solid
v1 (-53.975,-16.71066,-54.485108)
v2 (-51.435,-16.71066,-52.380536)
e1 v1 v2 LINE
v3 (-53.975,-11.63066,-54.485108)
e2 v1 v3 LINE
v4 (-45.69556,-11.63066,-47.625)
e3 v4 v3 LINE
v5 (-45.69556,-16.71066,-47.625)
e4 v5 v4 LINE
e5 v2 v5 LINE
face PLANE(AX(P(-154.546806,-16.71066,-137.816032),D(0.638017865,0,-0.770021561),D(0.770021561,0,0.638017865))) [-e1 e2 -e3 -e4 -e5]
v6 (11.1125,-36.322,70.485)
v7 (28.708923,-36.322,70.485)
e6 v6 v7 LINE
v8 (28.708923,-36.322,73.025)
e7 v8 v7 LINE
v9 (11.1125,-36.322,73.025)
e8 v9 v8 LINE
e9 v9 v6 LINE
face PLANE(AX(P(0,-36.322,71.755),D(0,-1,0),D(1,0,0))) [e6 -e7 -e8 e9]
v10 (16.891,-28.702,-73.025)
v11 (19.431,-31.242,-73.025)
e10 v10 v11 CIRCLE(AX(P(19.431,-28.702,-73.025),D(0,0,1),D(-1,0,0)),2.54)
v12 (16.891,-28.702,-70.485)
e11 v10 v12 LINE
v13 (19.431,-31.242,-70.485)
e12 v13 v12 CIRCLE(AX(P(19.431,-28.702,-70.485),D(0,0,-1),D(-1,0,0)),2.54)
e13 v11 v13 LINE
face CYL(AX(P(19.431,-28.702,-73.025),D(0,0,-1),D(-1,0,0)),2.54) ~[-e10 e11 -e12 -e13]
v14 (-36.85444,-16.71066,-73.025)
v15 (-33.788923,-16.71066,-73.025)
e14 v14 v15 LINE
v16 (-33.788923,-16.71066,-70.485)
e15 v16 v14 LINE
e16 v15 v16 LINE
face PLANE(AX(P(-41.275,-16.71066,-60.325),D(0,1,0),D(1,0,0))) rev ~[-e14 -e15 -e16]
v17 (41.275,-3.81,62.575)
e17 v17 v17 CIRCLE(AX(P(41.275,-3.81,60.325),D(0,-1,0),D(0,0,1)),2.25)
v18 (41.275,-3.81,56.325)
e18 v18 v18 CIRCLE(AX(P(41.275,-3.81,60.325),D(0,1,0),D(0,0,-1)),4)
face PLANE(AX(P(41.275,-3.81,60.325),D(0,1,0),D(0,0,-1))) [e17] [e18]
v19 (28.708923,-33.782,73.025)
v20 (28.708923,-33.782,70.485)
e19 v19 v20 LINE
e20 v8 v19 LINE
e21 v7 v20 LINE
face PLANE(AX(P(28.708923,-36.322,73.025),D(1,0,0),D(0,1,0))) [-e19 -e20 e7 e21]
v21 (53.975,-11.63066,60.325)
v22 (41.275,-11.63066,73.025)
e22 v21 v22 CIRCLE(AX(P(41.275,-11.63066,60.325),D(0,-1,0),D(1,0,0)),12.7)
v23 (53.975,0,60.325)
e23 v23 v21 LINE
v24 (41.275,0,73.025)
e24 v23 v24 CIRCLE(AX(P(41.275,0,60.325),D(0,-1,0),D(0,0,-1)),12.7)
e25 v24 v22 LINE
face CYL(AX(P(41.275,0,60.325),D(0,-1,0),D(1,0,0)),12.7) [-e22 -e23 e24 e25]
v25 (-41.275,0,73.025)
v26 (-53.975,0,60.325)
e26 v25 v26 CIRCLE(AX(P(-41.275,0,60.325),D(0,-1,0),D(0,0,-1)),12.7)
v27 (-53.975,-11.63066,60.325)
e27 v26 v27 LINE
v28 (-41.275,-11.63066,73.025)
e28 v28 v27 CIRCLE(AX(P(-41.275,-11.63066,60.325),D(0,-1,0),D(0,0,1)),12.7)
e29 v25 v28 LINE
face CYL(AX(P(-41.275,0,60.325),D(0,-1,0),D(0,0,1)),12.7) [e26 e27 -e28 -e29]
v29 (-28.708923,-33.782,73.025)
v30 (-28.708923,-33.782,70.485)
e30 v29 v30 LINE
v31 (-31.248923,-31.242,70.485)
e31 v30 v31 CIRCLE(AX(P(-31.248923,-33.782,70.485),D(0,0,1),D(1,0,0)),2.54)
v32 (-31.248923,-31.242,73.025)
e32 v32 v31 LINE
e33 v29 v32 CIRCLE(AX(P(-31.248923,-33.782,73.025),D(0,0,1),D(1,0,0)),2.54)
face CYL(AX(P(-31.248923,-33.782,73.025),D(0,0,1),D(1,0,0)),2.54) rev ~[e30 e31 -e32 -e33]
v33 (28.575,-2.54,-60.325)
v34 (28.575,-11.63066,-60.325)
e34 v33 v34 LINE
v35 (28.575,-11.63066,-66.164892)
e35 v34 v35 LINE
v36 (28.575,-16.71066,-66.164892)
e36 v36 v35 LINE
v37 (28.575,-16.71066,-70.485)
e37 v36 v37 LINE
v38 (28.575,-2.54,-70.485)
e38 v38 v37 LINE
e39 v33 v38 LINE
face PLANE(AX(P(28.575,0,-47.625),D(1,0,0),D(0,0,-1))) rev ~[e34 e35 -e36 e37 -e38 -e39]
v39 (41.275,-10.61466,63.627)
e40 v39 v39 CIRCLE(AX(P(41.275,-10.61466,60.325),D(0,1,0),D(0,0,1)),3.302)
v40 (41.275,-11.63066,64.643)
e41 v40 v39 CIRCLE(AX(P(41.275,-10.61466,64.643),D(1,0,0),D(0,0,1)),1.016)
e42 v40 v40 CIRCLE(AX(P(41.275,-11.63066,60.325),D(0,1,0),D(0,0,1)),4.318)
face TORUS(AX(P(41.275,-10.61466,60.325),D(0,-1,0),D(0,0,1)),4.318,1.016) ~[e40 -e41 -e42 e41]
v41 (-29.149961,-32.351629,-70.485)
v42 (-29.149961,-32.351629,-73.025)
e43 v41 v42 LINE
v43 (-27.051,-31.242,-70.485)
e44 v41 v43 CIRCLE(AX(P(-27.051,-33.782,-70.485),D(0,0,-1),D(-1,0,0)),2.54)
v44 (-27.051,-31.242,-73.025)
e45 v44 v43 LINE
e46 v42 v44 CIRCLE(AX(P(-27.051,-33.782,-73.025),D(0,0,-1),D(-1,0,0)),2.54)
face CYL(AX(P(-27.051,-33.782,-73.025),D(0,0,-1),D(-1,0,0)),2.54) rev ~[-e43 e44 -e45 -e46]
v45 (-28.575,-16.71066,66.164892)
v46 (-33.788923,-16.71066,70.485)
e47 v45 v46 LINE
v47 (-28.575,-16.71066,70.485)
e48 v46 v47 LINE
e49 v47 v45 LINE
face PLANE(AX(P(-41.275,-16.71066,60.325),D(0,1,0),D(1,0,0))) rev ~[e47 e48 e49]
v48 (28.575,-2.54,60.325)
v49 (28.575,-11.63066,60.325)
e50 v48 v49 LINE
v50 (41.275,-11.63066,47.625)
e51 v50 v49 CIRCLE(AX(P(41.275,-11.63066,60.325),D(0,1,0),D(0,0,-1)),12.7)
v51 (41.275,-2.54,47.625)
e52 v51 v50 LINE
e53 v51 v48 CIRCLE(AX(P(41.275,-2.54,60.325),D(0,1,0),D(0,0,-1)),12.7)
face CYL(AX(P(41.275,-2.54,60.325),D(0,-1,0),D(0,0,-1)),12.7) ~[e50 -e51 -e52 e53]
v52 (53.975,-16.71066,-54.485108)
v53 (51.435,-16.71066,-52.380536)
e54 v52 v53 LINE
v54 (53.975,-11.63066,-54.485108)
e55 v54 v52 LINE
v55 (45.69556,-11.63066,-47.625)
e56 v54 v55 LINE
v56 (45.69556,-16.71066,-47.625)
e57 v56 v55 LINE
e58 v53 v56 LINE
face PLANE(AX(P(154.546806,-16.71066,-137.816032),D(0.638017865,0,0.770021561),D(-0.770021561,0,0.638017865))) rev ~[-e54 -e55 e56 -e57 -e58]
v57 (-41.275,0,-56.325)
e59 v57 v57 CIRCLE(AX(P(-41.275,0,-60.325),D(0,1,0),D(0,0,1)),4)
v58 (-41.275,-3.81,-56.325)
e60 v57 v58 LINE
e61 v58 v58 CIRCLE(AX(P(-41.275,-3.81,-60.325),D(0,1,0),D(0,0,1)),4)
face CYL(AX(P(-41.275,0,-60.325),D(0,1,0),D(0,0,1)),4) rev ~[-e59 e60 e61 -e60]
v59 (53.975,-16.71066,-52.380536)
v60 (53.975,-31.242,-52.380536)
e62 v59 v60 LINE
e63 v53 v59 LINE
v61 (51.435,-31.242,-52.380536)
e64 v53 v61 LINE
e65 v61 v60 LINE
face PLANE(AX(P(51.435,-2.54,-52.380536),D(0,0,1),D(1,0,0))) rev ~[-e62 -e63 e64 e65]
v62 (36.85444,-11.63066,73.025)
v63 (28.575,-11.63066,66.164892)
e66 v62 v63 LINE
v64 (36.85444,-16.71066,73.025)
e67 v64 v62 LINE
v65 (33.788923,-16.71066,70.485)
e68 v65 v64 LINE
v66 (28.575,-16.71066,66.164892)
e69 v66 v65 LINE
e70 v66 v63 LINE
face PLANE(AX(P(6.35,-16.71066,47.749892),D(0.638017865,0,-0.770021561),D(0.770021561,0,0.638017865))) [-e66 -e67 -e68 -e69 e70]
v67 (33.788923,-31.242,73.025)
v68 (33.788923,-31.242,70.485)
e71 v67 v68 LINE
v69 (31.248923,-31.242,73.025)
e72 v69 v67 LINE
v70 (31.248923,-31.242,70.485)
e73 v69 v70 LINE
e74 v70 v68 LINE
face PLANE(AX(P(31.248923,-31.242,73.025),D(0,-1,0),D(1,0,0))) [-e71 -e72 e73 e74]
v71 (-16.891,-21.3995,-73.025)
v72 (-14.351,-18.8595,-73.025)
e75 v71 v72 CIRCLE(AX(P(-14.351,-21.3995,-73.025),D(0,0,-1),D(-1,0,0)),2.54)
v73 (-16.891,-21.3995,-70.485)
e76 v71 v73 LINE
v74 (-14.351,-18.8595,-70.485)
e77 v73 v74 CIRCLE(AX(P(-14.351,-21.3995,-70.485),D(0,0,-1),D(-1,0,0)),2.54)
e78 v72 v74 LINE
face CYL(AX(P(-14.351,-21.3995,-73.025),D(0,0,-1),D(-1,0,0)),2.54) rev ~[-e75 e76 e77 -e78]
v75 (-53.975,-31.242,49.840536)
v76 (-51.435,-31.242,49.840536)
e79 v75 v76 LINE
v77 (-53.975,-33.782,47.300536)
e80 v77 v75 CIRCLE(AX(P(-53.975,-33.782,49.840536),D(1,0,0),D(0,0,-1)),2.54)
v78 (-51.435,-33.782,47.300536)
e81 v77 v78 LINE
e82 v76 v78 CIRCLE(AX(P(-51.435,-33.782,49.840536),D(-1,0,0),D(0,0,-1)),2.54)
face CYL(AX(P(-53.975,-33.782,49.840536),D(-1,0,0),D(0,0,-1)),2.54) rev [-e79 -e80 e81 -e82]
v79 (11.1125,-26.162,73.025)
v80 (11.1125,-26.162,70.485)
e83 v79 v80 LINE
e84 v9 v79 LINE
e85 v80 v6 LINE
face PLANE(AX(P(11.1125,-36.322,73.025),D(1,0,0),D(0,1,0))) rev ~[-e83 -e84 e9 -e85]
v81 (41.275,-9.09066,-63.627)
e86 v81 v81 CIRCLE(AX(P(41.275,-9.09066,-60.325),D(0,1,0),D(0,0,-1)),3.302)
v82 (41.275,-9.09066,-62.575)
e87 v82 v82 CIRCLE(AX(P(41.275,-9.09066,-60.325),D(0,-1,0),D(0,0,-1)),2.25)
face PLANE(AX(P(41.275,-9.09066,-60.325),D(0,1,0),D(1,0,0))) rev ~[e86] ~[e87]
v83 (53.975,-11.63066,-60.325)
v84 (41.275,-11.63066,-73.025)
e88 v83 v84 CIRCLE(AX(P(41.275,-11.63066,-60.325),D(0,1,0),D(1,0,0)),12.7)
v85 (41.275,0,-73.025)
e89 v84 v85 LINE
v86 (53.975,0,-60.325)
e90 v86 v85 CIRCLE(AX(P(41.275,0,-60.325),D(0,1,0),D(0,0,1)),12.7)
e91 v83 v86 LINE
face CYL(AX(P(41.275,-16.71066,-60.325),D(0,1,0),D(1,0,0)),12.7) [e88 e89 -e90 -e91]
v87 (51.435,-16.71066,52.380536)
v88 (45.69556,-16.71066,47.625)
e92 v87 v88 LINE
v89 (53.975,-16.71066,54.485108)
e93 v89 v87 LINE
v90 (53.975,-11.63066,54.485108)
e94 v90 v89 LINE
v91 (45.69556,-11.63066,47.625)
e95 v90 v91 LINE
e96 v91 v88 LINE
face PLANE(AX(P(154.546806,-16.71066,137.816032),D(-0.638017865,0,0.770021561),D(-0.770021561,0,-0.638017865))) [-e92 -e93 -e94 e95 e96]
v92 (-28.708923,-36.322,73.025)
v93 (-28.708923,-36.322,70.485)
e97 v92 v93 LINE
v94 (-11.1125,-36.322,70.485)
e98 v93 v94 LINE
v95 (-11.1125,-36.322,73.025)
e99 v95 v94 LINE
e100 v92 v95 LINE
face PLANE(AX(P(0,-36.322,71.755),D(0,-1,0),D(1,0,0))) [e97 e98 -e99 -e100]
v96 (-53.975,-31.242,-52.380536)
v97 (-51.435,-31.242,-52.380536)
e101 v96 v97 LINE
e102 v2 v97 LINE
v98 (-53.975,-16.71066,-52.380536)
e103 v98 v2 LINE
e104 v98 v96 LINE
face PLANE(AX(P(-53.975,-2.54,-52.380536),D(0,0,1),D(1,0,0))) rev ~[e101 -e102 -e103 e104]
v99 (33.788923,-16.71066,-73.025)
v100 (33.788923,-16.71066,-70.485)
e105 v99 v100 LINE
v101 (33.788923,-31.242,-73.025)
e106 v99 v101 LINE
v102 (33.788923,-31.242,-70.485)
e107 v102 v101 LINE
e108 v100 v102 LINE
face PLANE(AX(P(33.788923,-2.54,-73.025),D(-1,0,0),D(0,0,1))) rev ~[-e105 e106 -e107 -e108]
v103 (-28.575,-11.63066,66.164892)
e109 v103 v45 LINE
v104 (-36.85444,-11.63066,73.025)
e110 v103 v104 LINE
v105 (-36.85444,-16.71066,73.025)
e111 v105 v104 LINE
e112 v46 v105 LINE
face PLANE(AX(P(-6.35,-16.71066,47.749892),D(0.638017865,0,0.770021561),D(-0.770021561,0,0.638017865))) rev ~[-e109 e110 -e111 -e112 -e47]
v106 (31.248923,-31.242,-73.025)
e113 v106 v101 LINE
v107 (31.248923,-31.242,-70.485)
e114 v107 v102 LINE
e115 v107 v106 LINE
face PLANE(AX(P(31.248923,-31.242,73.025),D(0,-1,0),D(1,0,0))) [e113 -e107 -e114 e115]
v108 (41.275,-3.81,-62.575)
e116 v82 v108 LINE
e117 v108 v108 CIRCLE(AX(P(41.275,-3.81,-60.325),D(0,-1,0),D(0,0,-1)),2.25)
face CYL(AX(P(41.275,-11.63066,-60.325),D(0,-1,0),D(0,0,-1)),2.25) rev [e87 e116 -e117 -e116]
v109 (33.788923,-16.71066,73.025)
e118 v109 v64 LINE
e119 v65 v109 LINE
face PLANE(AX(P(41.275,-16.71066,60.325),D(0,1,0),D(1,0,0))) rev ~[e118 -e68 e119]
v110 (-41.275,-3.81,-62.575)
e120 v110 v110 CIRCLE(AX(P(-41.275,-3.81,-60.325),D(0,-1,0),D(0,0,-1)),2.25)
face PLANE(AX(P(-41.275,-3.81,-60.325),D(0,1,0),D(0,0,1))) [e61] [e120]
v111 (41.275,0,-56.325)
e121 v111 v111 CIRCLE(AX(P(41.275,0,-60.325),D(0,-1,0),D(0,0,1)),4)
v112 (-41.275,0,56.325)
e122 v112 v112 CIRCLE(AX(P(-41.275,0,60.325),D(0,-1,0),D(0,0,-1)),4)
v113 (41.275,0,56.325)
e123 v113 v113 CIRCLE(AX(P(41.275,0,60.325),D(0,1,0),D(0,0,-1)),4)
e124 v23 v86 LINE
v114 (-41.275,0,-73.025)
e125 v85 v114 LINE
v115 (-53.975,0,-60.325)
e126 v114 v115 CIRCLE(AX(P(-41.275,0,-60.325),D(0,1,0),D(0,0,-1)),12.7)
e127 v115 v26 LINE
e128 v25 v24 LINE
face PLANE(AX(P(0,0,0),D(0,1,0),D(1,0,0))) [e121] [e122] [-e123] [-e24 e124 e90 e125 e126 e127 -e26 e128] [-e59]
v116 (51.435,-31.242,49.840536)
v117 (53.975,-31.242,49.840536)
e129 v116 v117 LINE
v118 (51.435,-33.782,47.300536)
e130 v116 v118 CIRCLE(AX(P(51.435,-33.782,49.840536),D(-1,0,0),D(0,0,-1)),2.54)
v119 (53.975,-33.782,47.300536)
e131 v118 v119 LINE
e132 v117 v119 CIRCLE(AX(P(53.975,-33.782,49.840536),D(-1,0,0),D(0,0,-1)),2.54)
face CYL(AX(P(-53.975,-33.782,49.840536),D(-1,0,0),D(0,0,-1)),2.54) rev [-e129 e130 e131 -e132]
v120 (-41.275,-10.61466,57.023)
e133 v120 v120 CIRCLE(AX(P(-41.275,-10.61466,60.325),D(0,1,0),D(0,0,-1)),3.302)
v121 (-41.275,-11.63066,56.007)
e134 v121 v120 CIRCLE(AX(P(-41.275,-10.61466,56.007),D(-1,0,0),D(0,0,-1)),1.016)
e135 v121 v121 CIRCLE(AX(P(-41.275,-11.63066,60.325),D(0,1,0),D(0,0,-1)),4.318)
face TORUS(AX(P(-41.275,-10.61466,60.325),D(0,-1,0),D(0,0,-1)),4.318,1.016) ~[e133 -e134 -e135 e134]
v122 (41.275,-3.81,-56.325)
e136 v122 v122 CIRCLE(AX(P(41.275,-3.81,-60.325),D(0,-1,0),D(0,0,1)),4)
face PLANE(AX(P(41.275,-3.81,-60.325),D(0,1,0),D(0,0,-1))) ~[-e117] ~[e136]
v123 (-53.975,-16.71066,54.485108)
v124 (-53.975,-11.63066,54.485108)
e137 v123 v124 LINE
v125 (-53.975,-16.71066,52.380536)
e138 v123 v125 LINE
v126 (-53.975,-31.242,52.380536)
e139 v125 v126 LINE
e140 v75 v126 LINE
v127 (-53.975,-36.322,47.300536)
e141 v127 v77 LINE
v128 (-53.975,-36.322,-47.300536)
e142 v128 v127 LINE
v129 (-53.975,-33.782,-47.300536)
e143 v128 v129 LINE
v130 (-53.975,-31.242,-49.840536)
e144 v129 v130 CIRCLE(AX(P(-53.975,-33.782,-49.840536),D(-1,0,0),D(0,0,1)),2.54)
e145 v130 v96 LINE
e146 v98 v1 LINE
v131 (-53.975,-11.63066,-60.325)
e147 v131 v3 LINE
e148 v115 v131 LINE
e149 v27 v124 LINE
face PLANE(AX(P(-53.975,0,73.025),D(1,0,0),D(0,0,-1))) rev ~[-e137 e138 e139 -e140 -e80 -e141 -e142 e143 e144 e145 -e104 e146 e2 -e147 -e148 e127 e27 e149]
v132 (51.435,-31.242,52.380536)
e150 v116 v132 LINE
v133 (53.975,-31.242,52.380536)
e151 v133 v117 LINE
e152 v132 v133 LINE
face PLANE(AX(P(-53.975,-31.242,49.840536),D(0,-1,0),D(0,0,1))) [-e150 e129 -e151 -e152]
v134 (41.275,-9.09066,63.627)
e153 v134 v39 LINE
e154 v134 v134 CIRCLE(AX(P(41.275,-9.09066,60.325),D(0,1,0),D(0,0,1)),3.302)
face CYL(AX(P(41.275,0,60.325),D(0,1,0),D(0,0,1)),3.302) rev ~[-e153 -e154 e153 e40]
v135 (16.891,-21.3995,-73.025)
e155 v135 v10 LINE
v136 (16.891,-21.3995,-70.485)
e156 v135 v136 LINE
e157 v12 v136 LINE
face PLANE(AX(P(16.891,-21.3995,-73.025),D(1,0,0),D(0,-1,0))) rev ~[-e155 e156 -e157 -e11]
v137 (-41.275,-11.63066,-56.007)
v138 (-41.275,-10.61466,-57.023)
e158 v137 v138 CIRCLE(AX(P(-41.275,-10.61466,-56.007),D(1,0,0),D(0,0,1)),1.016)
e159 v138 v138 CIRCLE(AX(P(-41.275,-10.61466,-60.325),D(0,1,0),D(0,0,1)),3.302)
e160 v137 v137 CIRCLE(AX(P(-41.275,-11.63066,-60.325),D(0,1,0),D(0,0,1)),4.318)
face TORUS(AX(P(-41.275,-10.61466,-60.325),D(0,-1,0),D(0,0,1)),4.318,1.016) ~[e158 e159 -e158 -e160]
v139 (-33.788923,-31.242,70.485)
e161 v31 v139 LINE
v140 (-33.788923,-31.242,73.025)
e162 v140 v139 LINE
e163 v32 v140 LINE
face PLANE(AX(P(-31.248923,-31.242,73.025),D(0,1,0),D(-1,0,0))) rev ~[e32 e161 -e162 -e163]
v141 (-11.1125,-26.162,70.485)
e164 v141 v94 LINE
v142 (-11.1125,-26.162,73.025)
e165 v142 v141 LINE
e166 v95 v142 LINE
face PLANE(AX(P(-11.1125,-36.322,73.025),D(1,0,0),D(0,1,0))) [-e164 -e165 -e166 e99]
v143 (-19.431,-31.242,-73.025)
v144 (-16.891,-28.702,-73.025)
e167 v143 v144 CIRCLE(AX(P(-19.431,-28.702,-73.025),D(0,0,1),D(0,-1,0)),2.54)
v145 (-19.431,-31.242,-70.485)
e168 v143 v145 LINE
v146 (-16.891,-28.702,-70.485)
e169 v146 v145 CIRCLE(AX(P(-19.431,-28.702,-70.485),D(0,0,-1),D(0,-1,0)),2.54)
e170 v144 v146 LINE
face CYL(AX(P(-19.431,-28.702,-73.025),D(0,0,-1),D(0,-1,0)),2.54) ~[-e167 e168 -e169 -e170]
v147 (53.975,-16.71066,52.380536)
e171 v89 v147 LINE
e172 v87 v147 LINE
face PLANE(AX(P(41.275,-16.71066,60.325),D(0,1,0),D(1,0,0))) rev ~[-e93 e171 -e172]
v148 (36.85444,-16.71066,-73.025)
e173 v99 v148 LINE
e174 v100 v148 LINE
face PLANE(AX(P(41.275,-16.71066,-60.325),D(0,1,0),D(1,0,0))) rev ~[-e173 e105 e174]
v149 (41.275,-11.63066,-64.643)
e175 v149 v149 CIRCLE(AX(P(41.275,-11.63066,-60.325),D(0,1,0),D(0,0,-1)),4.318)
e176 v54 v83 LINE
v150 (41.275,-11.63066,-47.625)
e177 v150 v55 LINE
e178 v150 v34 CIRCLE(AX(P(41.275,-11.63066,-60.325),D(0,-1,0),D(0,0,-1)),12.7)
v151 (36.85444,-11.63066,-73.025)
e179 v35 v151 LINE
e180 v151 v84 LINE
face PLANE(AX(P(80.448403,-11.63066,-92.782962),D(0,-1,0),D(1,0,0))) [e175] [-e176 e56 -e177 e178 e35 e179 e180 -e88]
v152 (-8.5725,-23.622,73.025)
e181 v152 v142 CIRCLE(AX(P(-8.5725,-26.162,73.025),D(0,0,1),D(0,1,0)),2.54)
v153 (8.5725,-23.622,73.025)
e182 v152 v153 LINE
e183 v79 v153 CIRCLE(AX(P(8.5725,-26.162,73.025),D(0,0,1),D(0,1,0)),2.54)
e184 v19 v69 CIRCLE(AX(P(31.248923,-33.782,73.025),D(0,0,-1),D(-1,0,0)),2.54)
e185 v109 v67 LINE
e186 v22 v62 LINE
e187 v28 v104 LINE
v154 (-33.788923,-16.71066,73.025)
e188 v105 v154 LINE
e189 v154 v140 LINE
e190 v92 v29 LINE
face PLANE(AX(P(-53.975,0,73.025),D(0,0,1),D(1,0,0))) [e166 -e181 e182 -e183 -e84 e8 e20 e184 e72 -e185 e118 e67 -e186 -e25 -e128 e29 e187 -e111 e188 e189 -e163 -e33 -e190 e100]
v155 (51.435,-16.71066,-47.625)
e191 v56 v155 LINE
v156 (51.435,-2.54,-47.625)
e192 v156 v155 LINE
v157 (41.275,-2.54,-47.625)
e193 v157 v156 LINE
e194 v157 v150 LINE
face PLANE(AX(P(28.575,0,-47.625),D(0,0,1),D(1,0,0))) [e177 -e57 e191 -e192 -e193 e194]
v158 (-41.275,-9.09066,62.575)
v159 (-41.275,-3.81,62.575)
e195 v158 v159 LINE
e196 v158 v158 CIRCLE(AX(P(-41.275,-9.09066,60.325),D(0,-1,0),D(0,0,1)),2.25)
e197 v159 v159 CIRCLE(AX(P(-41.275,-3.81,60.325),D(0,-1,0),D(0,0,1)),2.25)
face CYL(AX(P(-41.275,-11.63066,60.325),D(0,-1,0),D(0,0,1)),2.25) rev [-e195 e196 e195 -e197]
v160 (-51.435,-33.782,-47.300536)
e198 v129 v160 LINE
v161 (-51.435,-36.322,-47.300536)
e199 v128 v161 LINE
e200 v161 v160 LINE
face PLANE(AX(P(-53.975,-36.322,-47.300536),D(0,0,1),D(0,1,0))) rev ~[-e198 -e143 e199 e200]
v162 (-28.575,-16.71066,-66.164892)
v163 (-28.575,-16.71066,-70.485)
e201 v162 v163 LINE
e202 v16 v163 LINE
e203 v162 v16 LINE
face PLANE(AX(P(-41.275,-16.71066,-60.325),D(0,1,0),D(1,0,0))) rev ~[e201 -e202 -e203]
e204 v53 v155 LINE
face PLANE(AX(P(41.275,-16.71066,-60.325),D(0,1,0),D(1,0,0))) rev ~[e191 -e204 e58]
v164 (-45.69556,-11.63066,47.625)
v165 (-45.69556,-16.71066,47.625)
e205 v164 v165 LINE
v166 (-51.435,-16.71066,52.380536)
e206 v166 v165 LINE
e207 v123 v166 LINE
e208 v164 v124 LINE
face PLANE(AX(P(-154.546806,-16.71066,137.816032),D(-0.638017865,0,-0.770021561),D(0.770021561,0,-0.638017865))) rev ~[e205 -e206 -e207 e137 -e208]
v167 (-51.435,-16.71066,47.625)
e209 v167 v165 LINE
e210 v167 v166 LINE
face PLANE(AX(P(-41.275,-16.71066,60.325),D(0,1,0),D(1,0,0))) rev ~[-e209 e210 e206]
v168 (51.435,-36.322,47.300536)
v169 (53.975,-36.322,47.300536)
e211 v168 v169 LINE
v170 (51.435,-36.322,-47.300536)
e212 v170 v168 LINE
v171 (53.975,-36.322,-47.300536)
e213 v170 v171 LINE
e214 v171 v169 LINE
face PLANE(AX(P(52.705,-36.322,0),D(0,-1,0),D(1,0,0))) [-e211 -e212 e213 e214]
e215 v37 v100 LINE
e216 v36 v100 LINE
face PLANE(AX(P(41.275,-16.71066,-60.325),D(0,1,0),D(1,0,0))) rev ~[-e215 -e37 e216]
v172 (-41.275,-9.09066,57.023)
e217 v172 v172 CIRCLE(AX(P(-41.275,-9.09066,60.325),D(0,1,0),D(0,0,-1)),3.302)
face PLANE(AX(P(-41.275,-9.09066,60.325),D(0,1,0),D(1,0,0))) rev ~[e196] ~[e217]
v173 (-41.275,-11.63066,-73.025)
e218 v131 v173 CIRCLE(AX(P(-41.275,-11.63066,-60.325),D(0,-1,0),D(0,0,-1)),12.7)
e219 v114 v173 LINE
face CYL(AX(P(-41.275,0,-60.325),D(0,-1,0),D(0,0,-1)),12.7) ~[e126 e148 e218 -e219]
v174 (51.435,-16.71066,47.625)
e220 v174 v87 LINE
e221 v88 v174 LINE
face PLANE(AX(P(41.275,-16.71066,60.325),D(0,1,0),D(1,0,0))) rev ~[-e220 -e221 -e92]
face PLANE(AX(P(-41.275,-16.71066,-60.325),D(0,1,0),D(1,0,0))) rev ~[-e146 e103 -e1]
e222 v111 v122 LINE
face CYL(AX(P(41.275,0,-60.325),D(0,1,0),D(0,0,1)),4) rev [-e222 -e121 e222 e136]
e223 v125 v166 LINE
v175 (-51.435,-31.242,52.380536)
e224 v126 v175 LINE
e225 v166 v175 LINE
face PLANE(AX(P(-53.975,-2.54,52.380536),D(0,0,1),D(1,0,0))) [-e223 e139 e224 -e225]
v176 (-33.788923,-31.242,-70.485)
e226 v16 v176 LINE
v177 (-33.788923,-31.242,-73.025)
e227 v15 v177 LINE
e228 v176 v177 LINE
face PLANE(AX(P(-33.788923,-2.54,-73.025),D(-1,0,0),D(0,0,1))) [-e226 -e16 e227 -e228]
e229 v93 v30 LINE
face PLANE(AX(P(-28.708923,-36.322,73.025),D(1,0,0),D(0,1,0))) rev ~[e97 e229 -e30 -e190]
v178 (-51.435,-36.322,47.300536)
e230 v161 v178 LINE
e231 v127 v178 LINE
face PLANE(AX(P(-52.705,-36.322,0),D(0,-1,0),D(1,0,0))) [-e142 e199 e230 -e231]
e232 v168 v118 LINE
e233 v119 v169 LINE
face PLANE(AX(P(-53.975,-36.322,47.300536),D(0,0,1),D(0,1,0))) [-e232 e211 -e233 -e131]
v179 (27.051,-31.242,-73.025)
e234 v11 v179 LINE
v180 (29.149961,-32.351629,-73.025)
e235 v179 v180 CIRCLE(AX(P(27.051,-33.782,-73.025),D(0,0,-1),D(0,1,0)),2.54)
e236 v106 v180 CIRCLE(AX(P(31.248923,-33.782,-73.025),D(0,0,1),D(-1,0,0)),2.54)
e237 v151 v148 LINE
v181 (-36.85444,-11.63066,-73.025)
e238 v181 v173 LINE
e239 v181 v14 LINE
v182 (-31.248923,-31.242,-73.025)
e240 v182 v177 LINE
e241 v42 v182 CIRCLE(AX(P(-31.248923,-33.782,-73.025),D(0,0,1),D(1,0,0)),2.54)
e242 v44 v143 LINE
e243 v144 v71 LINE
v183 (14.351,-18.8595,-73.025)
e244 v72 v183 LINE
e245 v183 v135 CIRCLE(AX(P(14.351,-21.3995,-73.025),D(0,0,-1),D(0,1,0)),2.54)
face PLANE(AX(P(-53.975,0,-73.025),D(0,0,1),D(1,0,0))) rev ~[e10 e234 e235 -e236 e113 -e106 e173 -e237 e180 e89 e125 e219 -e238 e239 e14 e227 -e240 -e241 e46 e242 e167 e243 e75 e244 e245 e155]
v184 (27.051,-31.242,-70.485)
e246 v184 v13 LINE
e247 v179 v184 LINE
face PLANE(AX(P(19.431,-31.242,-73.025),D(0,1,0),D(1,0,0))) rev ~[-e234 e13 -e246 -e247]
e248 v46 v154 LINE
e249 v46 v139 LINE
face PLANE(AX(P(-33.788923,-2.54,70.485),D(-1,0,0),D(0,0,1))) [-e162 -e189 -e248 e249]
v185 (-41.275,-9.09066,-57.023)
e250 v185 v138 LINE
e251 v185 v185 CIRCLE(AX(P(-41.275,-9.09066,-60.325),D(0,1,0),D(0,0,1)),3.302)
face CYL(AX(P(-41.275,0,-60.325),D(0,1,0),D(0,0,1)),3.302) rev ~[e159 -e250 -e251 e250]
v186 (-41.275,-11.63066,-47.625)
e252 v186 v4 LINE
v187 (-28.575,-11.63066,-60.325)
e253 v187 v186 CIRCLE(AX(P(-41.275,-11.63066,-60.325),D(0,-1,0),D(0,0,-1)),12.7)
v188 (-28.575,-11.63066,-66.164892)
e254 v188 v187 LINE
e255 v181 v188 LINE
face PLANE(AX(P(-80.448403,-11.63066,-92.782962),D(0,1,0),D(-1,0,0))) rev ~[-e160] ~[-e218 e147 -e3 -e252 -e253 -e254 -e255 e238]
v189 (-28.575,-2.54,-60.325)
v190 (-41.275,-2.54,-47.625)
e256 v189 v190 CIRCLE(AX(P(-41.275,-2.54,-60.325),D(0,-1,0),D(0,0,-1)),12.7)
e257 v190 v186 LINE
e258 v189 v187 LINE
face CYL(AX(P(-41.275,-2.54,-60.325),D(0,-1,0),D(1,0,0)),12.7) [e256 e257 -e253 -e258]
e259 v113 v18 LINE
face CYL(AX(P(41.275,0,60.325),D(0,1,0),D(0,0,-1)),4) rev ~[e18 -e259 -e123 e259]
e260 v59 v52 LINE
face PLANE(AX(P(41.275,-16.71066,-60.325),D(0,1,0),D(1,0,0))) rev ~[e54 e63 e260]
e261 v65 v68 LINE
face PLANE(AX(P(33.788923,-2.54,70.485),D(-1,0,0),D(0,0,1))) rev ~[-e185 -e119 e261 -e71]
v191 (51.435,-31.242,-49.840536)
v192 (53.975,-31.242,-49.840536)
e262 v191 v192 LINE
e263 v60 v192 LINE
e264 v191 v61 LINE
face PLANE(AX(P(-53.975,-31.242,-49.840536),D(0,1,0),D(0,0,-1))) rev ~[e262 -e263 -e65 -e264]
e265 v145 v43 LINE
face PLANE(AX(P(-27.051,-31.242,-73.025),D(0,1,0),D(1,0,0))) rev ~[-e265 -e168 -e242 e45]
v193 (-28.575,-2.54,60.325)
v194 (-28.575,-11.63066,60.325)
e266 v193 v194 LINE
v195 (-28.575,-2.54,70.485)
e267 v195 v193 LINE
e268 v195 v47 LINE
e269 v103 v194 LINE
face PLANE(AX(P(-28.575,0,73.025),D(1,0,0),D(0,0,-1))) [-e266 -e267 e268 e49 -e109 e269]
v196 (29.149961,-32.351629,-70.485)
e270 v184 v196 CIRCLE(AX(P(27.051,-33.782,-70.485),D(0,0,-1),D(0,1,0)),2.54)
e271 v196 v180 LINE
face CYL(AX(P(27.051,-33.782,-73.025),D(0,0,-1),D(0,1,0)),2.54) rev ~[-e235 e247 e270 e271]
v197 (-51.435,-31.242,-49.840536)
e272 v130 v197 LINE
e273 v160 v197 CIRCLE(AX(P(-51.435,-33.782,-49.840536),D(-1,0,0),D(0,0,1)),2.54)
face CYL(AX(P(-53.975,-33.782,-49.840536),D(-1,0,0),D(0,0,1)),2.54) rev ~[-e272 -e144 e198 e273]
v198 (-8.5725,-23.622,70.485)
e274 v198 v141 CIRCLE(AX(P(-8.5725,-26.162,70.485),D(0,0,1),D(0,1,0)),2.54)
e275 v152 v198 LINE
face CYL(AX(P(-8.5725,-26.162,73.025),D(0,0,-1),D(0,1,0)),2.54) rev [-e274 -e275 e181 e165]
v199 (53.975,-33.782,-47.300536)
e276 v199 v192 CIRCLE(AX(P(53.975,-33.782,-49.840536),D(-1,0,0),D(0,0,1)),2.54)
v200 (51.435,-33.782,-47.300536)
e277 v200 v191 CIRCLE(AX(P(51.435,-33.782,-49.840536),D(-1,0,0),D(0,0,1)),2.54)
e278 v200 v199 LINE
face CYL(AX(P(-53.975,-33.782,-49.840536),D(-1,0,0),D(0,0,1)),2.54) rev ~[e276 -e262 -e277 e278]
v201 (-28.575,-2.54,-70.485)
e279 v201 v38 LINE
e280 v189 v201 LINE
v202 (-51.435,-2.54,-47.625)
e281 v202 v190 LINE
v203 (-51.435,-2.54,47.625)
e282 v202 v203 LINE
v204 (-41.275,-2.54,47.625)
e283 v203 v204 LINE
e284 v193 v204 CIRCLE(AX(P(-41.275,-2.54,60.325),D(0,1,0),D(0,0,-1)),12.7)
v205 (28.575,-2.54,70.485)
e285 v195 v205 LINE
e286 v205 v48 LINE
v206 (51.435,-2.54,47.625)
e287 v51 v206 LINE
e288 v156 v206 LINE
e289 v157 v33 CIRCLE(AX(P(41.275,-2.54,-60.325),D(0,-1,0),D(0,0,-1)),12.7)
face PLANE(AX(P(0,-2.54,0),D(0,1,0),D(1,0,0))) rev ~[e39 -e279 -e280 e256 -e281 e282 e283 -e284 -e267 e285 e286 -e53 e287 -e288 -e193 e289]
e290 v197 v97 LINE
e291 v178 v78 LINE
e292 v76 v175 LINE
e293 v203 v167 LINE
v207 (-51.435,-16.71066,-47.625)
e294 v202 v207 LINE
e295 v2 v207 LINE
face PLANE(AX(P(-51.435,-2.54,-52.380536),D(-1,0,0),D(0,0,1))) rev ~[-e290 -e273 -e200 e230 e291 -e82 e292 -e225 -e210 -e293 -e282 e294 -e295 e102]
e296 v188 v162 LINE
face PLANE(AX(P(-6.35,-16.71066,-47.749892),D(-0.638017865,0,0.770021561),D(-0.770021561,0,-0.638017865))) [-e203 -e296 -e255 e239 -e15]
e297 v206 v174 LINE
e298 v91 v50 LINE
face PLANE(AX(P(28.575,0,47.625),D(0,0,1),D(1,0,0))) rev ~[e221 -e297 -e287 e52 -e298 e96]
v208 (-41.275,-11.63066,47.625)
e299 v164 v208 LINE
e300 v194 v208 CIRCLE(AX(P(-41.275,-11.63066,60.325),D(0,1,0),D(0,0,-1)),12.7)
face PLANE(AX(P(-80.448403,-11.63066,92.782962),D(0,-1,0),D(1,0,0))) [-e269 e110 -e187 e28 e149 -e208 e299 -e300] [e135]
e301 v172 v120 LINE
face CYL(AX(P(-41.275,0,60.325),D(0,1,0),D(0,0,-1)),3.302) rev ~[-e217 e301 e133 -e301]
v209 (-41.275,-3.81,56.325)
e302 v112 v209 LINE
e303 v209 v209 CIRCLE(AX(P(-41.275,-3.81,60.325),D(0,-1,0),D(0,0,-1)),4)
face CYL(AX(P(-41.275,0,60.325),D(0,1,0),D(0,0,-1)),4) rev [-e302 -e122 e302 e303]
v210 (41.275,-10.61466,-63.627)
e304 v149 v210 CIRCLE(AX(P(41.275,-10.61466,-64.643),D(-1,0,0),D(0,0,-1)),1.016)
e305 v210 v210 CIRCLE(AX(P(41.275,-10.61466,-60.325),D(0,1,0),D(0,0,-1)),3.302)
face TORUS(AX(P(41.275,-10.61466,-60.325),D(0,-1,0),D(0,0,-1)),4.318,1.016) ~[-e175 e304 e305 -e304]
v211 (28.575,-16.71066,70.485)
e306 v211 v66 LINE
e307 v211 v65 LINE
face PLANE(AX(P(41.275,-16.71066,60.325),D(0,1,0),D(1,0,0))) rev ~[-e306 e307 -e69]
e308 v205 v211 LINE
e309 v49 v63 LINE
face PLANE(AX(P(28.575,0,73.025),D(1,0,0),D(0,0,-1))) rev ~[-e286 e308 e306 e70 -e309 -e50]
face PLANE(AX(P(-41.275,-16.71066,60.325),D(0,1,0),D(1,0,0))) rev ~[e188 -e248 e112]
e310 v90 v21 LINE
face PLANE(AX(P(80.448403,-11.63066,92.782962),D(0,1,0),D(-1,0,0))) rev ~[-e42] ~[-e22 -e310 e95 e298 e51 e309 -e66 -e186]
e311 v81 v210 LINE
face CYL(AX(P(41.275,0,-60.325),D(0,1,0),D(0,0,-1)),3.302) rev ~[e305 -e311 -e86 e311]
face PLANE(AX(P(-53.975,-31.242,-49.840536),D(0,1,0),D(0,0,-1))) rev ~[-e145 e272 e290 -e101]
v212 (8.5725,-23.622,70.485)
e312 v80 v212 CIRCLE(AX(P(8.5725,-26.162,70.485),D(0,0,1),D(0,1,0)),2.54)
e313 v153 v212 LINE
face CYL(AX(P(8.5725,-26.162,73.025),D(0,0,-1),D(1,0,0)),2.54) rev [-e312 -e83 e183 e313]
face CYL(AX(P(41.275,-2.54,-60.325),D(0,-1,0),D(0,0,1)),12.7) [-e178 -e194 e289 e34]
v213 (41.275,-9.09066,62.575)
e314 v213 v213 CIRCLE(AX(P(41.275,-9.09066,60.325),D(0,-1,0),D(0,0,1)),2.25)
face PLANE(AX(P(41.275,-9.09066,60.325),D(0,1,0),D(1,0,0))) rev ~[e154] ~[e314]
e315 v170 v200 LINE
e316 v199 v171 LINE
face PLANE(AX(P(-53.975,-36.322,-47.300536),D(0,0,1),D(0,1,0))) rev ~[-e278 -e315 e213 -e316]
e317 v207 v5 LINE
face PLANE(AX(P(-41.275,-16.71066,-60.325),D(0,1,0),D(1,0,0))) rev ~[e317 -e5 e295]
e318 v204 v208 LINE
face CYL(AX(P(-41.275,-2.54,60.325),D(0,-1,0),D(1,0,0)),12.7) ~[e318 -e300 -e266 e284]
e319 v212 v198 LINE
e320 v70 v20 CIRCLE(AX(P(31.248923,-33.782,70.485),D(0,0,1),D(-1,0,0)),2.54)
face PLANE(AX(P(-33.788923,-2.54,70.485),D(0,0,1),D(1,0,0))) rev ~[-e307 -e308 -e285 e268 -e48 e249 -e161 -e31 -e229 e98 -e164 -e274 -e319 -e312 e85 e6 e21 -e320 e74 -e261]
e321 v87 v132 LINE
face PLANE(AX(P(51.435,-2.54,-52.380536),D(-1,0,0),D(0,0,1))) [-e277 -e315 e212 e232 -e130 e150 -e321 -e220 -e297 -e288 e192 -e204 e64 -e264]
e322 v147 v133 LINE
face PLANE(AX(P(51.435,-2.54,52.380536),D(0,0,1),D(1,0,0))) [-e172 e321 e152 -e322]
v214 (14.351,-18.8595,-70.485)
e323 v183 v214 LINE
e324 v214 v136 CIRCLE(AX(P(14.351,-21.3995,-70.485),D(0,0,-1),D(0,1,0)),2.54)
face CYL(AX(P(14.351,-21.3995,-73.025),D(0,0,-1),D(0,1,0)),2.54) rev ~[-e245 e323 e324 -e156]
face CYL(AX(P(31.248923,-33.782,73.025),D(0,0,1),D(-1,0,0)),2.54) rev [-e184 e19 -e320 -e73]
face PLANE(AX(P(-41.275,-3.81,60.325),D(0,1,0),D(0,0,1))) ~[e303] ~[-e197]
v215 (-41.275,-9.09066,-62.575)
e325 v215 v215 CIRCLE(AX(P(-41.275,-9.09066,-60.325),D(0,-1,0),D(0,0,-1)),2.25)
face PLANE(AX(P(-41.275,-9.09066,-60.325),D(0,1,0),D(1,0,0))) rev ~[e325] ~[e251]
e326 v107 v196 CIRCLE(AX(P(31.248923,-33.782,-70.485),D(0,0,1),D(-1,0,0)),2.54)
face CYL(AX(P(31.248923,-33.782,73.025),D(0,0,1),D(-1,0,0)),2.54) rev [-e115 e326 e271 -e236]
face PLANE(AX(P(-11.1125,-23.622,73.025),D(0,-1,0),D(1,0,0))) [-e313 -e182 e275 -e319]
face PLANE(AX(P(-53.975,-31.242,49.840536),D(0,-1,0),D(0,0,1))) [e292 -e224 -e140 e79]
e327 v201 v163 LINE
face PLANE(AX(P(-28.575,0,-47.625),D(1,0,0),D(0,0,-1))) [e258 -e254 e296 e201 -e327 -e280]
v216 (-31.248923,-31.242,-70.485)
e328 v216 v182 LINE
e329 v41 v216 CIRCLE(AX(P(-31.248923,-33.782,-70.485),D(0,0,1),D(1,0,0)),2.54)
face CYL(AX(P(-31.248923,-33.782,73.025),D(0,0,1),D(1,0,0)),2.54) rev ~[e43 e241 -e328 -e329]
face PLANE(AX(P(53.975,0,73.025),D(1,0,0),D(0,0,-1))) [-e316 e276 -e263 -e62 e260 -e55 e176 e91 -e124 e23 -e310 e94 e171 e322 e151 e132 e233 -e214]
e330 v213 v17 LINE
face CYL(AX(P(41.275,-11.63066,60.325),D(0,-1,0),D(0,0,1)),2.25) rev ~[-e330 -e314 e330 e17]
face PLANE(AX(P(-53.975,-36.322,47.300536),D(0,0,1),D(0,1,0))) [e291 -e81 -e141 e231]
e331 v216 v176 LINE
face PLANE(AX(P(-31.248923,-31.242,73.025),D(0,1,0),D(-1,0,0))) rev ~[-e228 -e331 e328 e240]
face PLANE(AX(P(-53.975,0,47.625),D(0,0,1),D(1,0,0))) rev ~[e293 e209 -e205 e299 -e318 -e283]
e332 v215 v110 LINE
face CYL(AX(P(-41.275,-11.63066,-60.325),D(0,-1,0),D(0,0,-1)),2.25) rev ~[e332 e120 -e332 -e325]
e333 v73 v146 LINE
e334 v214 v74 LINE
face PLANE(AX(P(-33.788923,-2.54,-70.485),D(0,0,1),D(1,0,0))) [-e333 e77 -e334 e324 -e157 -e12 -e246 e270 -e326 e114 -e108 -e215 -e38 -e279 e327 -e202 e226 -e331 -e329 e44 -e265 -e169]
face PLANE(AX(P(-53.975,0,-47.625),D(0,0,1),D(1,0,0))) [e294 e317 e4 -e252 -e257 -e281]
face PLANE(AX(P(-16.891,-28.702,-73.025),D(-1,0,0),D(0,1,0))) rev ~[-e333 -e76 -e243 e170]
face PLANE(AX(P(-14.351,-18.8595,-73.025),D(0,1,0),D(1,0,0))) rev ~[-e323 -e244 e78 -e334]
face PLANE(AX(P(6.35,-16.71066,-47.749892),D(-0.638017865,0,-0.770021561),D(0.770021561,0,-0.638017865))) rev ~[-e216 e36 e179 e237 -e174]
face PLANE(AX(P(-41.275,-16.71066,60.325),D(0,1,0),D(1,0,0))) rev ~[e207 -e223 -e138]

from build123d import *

# Parameters (mm, degrees)
SKETCH1_W               = 107.95
SKETCH1_H               = 146.05
BOSS_EXTRUDE1_DEPTH     = 2.54
SKETCH13_W              = 25.4
SKETCH13_H              = 25.4
BOSS_EXTRUDE4_DEPTH     = 16.71066
SKETCH2_R               = 3.302
CUT_EXTRUDE1_DEPTH      = 93.331995579
FILLET1_R               = 12.7
CUT_EXTRUDE13_DEPTH     = 5.08
SKETCH15_R              = 6.35
BOSS_EXTRUDE5_DEPTH     = 9.09066
SKETCH23_R              = 2.25
CUT_EXTRUDE14_DEPTH     = 92.549022398
SKETCH24_R              = 4
CUT_EXTRUDE15_DEPTH     = 3.81
MIRROR2_COPY_1_SKETCH_R = 2.25
MIRROR2_COPY_1_DEPTH    = 92.549022398
MIRROR2_COPY_2_SKETCH_R = 4
MIRROR2_COPY_2_DEPTH    = 3.81
FILLET3_R               = 12.7
FILLET4_R               = 1.016
SKETCH27_W              = 67.577845754
SKETCH27_H              = 2.54
SKETCH27_W_2            = 2.54
SKETCH27_H_2            = 104.761072196
BOSS_EXTRUDE6_DEPTH     = 33.782
CUT_EXTRUDE16_DEPTH     = 41.656
CUT_EXTRUDE17_DEPTH     = 136.296492227
CUT_EXTRUDE18_DEPTH     = 160.8849299
CUT_EXTRUDE19_REACH     = 161.885
SKETCH31_W              = 22.225
SKETCH31_H              = 12.7
FILLET5_R               = 2.54


with BuildPart() as part:
    # Sketch1 → Boss-Extrude1 (new body)
    with BuildSketch(Plane(origin=(0, 0, 0), x_dir=(1, 0, 0), z_dir=(0, 1, 0))):
        Rectangle(SKETCH1_W, SKETCH1_H)
    extrude(amount=-BOSS_EXTRUDE1_DEPTH)

    # Sketch13 → Boss-Extrude4 (add)
    with BuildSketch(Plane(origin=(0, 0, 0), x_dir=(1, 0, 0), z_dir=(0, 1, 0))):
        with Locations((41.275, -60.325)):
            Rectangle(SKETCH13_W, SKETCH13_H)
        with Locations((-41.275, -60.325)):
            Rectangle(SKETCH13_W, SKETCH13_H)
        with Locations((-41.275, 60.325)):
            Rectangle(SKETCH13_W, SKETCH13_H)
        with Locations((41.275, 60.325)):
            Rectangle(SKETCH13_W, SKETCH13_H)
    extrude(amount=-BOSS_EXTRUDE4_DEPTH)

    # Sketch2 → Cut-Extrude1 (cut, through all)
    with BuildSketch(Plane(origin=(0, 0, 0), x_dir=(1, 0, 0), z_dir=(0, 1, 0))):
        with Locations(Location((-41.275, 60.325, 0), (0, 0, 270))):
            Circle(SKETCH2_R)
        with Locations(Location((41.275, 60.325, 0), (0, 0, 90))):
            Circle(SKETCH2_R)
        with Locations(Location((41.275, -60.325, 0), (0, 0, 270))):
            Circle(SKETCH2_R)
        with Locations(Location((-41.275, -60.325, 0), (0, 0, 90))):
            Circle(SKETCH2_R)
    extrude(amount=-CUT_EXTRUDE1_DEPTH, mode=Mode.SUBTRACT)

    # Fillet1
    fillet1_edges = [part.edges().sort_by_distance(p)[0] for p in [
        (53.975, -8.35533, 73.025),
        (-53.975, -8.35533, 73.025),
        (-53.975, -8.35533, -73.025),
        (53.975, -8.35533, -73.025),
    ]]
    fillet(fillet1_edges, radius=FILLET1_R)

    # Sketch14 → Cut-Extrude13 (cut)
    with BuildSketch(Plane.XZ.offset(16.71066)):
        Polygon((22.4276291, -28.345857353), (6.35, -47.749892473), (138.46917676, -157.220067503), (154.54680586, -137.816032382), align=None)
        Polygon((-22.4276291, -28.345857353), (-6.35, -47.749892473), (-138.46917676, -157.220067503), (-154.54680586, -137.816032382), align=None)
        Polygon((-154.54680586, 137.816032382), (-22.4276291, 28.345857353), (-6.35, 47.749892473), (-138.46917676, 157.220067503), align=None)
        Polygon((22.4276291, 28.345857353), (6.35, 47.749892473), (138.46917676, 157.220067503), (154.54680586, 137.816032382), align=None)
    extrude(amount=-CUT_EXTRUDE13_DEPTH, mode=Mode.SUBTRACT)

    # Sketch15 → Boss-Extrude5 (add)
    with BuildSketch(Plane(origin=(0, 0, 0), x_dir=(1, 0, 0), z_dir=(0, 1, 0))):
        with Locations((-41.275, 60.325)):
            Circle(SKETCH15_R)
        with Locations((41.275, 60.325)):
            Circle(SKETCH15_R)
        with Locations((-41.275, -60.325)):
            Circle(SKETCH15_R)
        with Locations((41.275, -60.325)):
            Circle(SKETCH15_R)
    extrude(amount=-BOSS_EXTRUDE5_DEPTH)

    # Sketch23 → Cut-Extrude14 (cut, through all)
    with BuildSketch(Plane.XZ.offset(11.63066)):
        with Locations(Location((-41.275, -60.325, 0), (0, 0, 270))):
            Circle(SKETCH23_R)
    cut_extrude14 = extrude(amount=-CUT_EXTRUDE14_DEPTH, mode=Mode.SUBTRACT)

    # Sketch24 → Cut-Extrude15 (cut)
    with BuildSketch(Plane(origin=(0, 0, 0), x_dir=(1, 0, 0), z_dir=(0, 1, 0))):
        with Locations(Location((-41.275, 60.325, 0), (0, 0, 270))):
            Circle(SKETCH24_R)
    cut_extrude15 = extrude(amount=-CUT_EXTRUDE15_DEPTH, mode=Mode.SUBTRACT)

    # Mirror1: Cut-Extrude14, Cut-Extrude15 across plane
    add(cut_extrude14.mirror(Plane.XY), mode=Mode.SUBTRACT)
    add(cut_extrude15.mirror(Plane.XY), mode=Mode.SUBTRACT)

    # Mirror2: Cut-Extrude14, Cut-Extrude15 across plane
    add(cut_extrude14.mirror(Plane(origin=(0, 0, 0), x_dir=(0, 0, 1), z_dir=(1, 0, 0))), mode=Mode.SUBTRACT)
    add(cut_extrude15.mirror(Plane(origin=(0, 0, 0), x_dir=(0, 0, 1), z_dir=(1, 0, 0))), mode=Mode.SUBTRACT)

    # Mirror2 copy 1 sketch → Mirror2 copy 1 (cut, through all)
    with BuildSketch(Plane(origin=(0, -11.63066, 0), x_dir=(-1, 0, 0), z_dir=(0, -1, 0))):
        with Locations(Location((-41.275, -60.325, 0), (0, 0, 270))):
            Circle(MIRROR2_COPY_1_SKETCH_R)
    extrude(amount=-MIRROR2_COPY_1_DEPTH, mode=Mode.SUBTRACT)

    # Mirror2 copy 2 sketch → Mirror2 copy 2 (cut)
    with BuildSketch(Plane(origin=(0, 0, 0), x_dir=(-1, 0, 0), z_dir=(0, 1, 0))):
        with Locations(Location((-41.275, 60.325, 0), (0, 0, 270))):
            Circle(MIRROR2_COPY_2_SKETCH_R)
    extrude(amount=-MIRROR2_COPY_2_DEPTH, mode=Mode.SUBTRACT)

    # Fillet3
    fillet3_edges = [part.edges().sort_by_distance(p)[0] for p in [
        (28.575, -7.08533, -47.625),
        (-28.575, -7.08533, -47.625),
        (-28.575, -7.08533, 47.625),
        (28.575, -7.08533, 47.625),
    ]]
    fillet(fillet3_edges, radius=FILLET3_R)

    # Fillet4
    fillet4_edges = [part.edges().sort_by_distance(p)[0] for p in [
        (41.275, -11.63066, -57.023),
        (-41.275, -11.63066, -63.627),
        (-41.275, -11.63066, 63.627),
        (41.275, -11.63066, 57.023),
    ]]
    fillet(fillet4_edges, radius=FILLET4_R)

    # Sketch27 → Boss-Extrude6 (add)
    with BuildSketch(Plane.XZ.offset(2.54)):
        with Locations((0, -71.755)):
            Rectangle(SKETCH27_W, SKETCH27_H)
        with Locations((0, 71.755)):
            Rectangle(SKETCH27_W, SKETCH27_H)
        with Locations((52.705, 0)):
            Rectangle(SKETCH27_W_2, SKETCH27_H_2)
        with Locations((-52.705, 0)):
            Rectangle(SKETCH27_W_2, SKETCH27_H_2)
    extrude(amount=BOSS_EXTRUDE6_DEPTH)

    # Sketch28 → Cut-Extrude16 (cut)
    with BuildSketch(Plane(origin=(0, 0, -73.025), x_dir=(-1, 0, 0), z_dir=(0, 0, -1))):
        with BuildLine():
            Line((-17.526, -36.322), (17.526, -36.322))
            Line((17.526, -36.322), (29.591, -36.322))
            Line((29.591, -36.322), (29.591, -33.782))
            ThreePointArc((29.591, -33.782), (28.847051224, -31.985948776), (27.051, -31.242))
            Line((27.051, -31.242), (19.431, -31.242))
            ThreePointArc((19.431, -31.242), (17.634948776, -30.498051224), (16.891, -28.702))
            Line((16.891, -28.702), (16.891, -21.3995))
            ThreePointArc((16.891, -21.3995), (16.147051224, -19.603448776), (14.351, -18.8595))
            Line((14.351, -18.8595), (-14.351, -18.8595))
            ThreePointArc((-14.351, -18.8595), (-16.147051224, -19.603448776), (-16.891, -21.3995))
            Line((-16.891, -21.3995), (-16.891, -28.702))
            ThreePointArc((-16.891, -28.702), (-17.634948776, -30.498051224), (-19.431, -31.242))
            Line((-19.431, -31.242), (-27.051, -31.242))
            ThreePointArc((-27.051, -31.242), (-28.847051224, -31.985948776), (-29.591, -33.782))
            Line((-29.591, -33.782), (-29.591, -36.322))
            Line((-29.591, -36.322), (-17.526, -36.322))
        make_face()
    extrude(amount=-CUT_EXTRUDE16_DEPTH, mode=Mode.SUBTRACT)

    # Sketch29 → Cut-Extrude17 (cut, through all)
    with BuildSketch(Plane.ZY.offset(53.975)):
        with BuildLine():
            Line((-52.380536098, -36.322), (-47.300536098, -36.322))
            Line((-47.300536098, -36.322), (-47.300536098, -33.782))
            ThreePointArc((-47.300536098, -33.782), (-48.044484874, -31.985948776), (-49.840536098, -31.242))
            Line((-49.840536098, -31.242), (-52.380536098, -31.242))
            Line((-52.380536098, -31.242), (-52.380536098, -36.322))
        make_face()
        with BuildLine():
            Line((47.300536098, -36.322), (47.300536098, -33.782))
            ThreePointArc((47.300536098, -33.782), (48.044484874, -31.985948776), (49.840536098, -31.242))
            Line((49.840536098, -31.242), (52.380536098, -31.242))
            Line((52.380536098, -31.242), (52.380536098, -36.322))
            Line((52.380536098, -36.322), (47.300536098, -36.322))
        make_face()
    extrude(amount=-CUT_EXTRUDE17_DEPTH, mode=Mode.SUBTRACT)

    # Sketch30 → Cut-Extrude18 (cut, through all)
    with BuildSketch(Plane.XY.offset(73.025)):
        with BuildLine():
            Line((-33.788922877, -36.322), (-28.708922877, -36.322))
            Line((-28.708922877, -36.322), (-28.708922877, -33.782))
            ThreePointArc((-28.708922877, -33.782), (-29.452871653, -31.985948776), (-31.248922877, -31.242))
            Line((-31.248922877, -31.242), (-33.788922877, -31.242))
            Line((-33.788922877, -31.242), (-33.788922877, -36.322))
        make_face()
        with BuildLine():
            Line((28.708922877, -36.322), (28.708922877, -33.782))
            ThreePointArc((28.708922877, -33.782), (29.452871653, -31.985948776), (31.248922877, -31.242))
            Line((31.248922877, -31.242), (33.788922877, -31.242))
            Line((33.788922877, -31.242), (33.788922877, -36.322))
            Line((33.788922877, -36.322), (28.708922877, -36.322))
        make_face()
    extrude(amount=-CUT_EXTRUDE18_DEPTH, mode=Mode.SUBTRACT)

    # Sketch31 → Cut-Extrude19 (cut, up to next)
    with BuildSketch(Plane.XY.offset(73.025), mode=Mode.PRIVATE) as cut_extrude19_sk1:
        with Locations((0, -29.972)):
            Rectangle(SKETCH31_W, SKETCH31_H)
    cut_extrude19_tool1 = extrude(cut_extrude19_sk1.sketch, amount=-CUT_EXTRUDE19_REACH, mode=Mode.PRIVATE) & part.part
    add(cut_extrude19_tool1.solids().sort_by_distance((0, -29.972, 73.025))[0], mode=Mode.SUBTRACT)

    # Fillet5
    fillet5_edges = [part.edges().sort_by_distance(p)[0] for p in [
        (-11.1125, -23.622, 71.755),
        (11.1125, -23.622, 71.755),
    ]]
    fillet(fillet5_edges, radius=FILLET5_R)


solid = part.part
